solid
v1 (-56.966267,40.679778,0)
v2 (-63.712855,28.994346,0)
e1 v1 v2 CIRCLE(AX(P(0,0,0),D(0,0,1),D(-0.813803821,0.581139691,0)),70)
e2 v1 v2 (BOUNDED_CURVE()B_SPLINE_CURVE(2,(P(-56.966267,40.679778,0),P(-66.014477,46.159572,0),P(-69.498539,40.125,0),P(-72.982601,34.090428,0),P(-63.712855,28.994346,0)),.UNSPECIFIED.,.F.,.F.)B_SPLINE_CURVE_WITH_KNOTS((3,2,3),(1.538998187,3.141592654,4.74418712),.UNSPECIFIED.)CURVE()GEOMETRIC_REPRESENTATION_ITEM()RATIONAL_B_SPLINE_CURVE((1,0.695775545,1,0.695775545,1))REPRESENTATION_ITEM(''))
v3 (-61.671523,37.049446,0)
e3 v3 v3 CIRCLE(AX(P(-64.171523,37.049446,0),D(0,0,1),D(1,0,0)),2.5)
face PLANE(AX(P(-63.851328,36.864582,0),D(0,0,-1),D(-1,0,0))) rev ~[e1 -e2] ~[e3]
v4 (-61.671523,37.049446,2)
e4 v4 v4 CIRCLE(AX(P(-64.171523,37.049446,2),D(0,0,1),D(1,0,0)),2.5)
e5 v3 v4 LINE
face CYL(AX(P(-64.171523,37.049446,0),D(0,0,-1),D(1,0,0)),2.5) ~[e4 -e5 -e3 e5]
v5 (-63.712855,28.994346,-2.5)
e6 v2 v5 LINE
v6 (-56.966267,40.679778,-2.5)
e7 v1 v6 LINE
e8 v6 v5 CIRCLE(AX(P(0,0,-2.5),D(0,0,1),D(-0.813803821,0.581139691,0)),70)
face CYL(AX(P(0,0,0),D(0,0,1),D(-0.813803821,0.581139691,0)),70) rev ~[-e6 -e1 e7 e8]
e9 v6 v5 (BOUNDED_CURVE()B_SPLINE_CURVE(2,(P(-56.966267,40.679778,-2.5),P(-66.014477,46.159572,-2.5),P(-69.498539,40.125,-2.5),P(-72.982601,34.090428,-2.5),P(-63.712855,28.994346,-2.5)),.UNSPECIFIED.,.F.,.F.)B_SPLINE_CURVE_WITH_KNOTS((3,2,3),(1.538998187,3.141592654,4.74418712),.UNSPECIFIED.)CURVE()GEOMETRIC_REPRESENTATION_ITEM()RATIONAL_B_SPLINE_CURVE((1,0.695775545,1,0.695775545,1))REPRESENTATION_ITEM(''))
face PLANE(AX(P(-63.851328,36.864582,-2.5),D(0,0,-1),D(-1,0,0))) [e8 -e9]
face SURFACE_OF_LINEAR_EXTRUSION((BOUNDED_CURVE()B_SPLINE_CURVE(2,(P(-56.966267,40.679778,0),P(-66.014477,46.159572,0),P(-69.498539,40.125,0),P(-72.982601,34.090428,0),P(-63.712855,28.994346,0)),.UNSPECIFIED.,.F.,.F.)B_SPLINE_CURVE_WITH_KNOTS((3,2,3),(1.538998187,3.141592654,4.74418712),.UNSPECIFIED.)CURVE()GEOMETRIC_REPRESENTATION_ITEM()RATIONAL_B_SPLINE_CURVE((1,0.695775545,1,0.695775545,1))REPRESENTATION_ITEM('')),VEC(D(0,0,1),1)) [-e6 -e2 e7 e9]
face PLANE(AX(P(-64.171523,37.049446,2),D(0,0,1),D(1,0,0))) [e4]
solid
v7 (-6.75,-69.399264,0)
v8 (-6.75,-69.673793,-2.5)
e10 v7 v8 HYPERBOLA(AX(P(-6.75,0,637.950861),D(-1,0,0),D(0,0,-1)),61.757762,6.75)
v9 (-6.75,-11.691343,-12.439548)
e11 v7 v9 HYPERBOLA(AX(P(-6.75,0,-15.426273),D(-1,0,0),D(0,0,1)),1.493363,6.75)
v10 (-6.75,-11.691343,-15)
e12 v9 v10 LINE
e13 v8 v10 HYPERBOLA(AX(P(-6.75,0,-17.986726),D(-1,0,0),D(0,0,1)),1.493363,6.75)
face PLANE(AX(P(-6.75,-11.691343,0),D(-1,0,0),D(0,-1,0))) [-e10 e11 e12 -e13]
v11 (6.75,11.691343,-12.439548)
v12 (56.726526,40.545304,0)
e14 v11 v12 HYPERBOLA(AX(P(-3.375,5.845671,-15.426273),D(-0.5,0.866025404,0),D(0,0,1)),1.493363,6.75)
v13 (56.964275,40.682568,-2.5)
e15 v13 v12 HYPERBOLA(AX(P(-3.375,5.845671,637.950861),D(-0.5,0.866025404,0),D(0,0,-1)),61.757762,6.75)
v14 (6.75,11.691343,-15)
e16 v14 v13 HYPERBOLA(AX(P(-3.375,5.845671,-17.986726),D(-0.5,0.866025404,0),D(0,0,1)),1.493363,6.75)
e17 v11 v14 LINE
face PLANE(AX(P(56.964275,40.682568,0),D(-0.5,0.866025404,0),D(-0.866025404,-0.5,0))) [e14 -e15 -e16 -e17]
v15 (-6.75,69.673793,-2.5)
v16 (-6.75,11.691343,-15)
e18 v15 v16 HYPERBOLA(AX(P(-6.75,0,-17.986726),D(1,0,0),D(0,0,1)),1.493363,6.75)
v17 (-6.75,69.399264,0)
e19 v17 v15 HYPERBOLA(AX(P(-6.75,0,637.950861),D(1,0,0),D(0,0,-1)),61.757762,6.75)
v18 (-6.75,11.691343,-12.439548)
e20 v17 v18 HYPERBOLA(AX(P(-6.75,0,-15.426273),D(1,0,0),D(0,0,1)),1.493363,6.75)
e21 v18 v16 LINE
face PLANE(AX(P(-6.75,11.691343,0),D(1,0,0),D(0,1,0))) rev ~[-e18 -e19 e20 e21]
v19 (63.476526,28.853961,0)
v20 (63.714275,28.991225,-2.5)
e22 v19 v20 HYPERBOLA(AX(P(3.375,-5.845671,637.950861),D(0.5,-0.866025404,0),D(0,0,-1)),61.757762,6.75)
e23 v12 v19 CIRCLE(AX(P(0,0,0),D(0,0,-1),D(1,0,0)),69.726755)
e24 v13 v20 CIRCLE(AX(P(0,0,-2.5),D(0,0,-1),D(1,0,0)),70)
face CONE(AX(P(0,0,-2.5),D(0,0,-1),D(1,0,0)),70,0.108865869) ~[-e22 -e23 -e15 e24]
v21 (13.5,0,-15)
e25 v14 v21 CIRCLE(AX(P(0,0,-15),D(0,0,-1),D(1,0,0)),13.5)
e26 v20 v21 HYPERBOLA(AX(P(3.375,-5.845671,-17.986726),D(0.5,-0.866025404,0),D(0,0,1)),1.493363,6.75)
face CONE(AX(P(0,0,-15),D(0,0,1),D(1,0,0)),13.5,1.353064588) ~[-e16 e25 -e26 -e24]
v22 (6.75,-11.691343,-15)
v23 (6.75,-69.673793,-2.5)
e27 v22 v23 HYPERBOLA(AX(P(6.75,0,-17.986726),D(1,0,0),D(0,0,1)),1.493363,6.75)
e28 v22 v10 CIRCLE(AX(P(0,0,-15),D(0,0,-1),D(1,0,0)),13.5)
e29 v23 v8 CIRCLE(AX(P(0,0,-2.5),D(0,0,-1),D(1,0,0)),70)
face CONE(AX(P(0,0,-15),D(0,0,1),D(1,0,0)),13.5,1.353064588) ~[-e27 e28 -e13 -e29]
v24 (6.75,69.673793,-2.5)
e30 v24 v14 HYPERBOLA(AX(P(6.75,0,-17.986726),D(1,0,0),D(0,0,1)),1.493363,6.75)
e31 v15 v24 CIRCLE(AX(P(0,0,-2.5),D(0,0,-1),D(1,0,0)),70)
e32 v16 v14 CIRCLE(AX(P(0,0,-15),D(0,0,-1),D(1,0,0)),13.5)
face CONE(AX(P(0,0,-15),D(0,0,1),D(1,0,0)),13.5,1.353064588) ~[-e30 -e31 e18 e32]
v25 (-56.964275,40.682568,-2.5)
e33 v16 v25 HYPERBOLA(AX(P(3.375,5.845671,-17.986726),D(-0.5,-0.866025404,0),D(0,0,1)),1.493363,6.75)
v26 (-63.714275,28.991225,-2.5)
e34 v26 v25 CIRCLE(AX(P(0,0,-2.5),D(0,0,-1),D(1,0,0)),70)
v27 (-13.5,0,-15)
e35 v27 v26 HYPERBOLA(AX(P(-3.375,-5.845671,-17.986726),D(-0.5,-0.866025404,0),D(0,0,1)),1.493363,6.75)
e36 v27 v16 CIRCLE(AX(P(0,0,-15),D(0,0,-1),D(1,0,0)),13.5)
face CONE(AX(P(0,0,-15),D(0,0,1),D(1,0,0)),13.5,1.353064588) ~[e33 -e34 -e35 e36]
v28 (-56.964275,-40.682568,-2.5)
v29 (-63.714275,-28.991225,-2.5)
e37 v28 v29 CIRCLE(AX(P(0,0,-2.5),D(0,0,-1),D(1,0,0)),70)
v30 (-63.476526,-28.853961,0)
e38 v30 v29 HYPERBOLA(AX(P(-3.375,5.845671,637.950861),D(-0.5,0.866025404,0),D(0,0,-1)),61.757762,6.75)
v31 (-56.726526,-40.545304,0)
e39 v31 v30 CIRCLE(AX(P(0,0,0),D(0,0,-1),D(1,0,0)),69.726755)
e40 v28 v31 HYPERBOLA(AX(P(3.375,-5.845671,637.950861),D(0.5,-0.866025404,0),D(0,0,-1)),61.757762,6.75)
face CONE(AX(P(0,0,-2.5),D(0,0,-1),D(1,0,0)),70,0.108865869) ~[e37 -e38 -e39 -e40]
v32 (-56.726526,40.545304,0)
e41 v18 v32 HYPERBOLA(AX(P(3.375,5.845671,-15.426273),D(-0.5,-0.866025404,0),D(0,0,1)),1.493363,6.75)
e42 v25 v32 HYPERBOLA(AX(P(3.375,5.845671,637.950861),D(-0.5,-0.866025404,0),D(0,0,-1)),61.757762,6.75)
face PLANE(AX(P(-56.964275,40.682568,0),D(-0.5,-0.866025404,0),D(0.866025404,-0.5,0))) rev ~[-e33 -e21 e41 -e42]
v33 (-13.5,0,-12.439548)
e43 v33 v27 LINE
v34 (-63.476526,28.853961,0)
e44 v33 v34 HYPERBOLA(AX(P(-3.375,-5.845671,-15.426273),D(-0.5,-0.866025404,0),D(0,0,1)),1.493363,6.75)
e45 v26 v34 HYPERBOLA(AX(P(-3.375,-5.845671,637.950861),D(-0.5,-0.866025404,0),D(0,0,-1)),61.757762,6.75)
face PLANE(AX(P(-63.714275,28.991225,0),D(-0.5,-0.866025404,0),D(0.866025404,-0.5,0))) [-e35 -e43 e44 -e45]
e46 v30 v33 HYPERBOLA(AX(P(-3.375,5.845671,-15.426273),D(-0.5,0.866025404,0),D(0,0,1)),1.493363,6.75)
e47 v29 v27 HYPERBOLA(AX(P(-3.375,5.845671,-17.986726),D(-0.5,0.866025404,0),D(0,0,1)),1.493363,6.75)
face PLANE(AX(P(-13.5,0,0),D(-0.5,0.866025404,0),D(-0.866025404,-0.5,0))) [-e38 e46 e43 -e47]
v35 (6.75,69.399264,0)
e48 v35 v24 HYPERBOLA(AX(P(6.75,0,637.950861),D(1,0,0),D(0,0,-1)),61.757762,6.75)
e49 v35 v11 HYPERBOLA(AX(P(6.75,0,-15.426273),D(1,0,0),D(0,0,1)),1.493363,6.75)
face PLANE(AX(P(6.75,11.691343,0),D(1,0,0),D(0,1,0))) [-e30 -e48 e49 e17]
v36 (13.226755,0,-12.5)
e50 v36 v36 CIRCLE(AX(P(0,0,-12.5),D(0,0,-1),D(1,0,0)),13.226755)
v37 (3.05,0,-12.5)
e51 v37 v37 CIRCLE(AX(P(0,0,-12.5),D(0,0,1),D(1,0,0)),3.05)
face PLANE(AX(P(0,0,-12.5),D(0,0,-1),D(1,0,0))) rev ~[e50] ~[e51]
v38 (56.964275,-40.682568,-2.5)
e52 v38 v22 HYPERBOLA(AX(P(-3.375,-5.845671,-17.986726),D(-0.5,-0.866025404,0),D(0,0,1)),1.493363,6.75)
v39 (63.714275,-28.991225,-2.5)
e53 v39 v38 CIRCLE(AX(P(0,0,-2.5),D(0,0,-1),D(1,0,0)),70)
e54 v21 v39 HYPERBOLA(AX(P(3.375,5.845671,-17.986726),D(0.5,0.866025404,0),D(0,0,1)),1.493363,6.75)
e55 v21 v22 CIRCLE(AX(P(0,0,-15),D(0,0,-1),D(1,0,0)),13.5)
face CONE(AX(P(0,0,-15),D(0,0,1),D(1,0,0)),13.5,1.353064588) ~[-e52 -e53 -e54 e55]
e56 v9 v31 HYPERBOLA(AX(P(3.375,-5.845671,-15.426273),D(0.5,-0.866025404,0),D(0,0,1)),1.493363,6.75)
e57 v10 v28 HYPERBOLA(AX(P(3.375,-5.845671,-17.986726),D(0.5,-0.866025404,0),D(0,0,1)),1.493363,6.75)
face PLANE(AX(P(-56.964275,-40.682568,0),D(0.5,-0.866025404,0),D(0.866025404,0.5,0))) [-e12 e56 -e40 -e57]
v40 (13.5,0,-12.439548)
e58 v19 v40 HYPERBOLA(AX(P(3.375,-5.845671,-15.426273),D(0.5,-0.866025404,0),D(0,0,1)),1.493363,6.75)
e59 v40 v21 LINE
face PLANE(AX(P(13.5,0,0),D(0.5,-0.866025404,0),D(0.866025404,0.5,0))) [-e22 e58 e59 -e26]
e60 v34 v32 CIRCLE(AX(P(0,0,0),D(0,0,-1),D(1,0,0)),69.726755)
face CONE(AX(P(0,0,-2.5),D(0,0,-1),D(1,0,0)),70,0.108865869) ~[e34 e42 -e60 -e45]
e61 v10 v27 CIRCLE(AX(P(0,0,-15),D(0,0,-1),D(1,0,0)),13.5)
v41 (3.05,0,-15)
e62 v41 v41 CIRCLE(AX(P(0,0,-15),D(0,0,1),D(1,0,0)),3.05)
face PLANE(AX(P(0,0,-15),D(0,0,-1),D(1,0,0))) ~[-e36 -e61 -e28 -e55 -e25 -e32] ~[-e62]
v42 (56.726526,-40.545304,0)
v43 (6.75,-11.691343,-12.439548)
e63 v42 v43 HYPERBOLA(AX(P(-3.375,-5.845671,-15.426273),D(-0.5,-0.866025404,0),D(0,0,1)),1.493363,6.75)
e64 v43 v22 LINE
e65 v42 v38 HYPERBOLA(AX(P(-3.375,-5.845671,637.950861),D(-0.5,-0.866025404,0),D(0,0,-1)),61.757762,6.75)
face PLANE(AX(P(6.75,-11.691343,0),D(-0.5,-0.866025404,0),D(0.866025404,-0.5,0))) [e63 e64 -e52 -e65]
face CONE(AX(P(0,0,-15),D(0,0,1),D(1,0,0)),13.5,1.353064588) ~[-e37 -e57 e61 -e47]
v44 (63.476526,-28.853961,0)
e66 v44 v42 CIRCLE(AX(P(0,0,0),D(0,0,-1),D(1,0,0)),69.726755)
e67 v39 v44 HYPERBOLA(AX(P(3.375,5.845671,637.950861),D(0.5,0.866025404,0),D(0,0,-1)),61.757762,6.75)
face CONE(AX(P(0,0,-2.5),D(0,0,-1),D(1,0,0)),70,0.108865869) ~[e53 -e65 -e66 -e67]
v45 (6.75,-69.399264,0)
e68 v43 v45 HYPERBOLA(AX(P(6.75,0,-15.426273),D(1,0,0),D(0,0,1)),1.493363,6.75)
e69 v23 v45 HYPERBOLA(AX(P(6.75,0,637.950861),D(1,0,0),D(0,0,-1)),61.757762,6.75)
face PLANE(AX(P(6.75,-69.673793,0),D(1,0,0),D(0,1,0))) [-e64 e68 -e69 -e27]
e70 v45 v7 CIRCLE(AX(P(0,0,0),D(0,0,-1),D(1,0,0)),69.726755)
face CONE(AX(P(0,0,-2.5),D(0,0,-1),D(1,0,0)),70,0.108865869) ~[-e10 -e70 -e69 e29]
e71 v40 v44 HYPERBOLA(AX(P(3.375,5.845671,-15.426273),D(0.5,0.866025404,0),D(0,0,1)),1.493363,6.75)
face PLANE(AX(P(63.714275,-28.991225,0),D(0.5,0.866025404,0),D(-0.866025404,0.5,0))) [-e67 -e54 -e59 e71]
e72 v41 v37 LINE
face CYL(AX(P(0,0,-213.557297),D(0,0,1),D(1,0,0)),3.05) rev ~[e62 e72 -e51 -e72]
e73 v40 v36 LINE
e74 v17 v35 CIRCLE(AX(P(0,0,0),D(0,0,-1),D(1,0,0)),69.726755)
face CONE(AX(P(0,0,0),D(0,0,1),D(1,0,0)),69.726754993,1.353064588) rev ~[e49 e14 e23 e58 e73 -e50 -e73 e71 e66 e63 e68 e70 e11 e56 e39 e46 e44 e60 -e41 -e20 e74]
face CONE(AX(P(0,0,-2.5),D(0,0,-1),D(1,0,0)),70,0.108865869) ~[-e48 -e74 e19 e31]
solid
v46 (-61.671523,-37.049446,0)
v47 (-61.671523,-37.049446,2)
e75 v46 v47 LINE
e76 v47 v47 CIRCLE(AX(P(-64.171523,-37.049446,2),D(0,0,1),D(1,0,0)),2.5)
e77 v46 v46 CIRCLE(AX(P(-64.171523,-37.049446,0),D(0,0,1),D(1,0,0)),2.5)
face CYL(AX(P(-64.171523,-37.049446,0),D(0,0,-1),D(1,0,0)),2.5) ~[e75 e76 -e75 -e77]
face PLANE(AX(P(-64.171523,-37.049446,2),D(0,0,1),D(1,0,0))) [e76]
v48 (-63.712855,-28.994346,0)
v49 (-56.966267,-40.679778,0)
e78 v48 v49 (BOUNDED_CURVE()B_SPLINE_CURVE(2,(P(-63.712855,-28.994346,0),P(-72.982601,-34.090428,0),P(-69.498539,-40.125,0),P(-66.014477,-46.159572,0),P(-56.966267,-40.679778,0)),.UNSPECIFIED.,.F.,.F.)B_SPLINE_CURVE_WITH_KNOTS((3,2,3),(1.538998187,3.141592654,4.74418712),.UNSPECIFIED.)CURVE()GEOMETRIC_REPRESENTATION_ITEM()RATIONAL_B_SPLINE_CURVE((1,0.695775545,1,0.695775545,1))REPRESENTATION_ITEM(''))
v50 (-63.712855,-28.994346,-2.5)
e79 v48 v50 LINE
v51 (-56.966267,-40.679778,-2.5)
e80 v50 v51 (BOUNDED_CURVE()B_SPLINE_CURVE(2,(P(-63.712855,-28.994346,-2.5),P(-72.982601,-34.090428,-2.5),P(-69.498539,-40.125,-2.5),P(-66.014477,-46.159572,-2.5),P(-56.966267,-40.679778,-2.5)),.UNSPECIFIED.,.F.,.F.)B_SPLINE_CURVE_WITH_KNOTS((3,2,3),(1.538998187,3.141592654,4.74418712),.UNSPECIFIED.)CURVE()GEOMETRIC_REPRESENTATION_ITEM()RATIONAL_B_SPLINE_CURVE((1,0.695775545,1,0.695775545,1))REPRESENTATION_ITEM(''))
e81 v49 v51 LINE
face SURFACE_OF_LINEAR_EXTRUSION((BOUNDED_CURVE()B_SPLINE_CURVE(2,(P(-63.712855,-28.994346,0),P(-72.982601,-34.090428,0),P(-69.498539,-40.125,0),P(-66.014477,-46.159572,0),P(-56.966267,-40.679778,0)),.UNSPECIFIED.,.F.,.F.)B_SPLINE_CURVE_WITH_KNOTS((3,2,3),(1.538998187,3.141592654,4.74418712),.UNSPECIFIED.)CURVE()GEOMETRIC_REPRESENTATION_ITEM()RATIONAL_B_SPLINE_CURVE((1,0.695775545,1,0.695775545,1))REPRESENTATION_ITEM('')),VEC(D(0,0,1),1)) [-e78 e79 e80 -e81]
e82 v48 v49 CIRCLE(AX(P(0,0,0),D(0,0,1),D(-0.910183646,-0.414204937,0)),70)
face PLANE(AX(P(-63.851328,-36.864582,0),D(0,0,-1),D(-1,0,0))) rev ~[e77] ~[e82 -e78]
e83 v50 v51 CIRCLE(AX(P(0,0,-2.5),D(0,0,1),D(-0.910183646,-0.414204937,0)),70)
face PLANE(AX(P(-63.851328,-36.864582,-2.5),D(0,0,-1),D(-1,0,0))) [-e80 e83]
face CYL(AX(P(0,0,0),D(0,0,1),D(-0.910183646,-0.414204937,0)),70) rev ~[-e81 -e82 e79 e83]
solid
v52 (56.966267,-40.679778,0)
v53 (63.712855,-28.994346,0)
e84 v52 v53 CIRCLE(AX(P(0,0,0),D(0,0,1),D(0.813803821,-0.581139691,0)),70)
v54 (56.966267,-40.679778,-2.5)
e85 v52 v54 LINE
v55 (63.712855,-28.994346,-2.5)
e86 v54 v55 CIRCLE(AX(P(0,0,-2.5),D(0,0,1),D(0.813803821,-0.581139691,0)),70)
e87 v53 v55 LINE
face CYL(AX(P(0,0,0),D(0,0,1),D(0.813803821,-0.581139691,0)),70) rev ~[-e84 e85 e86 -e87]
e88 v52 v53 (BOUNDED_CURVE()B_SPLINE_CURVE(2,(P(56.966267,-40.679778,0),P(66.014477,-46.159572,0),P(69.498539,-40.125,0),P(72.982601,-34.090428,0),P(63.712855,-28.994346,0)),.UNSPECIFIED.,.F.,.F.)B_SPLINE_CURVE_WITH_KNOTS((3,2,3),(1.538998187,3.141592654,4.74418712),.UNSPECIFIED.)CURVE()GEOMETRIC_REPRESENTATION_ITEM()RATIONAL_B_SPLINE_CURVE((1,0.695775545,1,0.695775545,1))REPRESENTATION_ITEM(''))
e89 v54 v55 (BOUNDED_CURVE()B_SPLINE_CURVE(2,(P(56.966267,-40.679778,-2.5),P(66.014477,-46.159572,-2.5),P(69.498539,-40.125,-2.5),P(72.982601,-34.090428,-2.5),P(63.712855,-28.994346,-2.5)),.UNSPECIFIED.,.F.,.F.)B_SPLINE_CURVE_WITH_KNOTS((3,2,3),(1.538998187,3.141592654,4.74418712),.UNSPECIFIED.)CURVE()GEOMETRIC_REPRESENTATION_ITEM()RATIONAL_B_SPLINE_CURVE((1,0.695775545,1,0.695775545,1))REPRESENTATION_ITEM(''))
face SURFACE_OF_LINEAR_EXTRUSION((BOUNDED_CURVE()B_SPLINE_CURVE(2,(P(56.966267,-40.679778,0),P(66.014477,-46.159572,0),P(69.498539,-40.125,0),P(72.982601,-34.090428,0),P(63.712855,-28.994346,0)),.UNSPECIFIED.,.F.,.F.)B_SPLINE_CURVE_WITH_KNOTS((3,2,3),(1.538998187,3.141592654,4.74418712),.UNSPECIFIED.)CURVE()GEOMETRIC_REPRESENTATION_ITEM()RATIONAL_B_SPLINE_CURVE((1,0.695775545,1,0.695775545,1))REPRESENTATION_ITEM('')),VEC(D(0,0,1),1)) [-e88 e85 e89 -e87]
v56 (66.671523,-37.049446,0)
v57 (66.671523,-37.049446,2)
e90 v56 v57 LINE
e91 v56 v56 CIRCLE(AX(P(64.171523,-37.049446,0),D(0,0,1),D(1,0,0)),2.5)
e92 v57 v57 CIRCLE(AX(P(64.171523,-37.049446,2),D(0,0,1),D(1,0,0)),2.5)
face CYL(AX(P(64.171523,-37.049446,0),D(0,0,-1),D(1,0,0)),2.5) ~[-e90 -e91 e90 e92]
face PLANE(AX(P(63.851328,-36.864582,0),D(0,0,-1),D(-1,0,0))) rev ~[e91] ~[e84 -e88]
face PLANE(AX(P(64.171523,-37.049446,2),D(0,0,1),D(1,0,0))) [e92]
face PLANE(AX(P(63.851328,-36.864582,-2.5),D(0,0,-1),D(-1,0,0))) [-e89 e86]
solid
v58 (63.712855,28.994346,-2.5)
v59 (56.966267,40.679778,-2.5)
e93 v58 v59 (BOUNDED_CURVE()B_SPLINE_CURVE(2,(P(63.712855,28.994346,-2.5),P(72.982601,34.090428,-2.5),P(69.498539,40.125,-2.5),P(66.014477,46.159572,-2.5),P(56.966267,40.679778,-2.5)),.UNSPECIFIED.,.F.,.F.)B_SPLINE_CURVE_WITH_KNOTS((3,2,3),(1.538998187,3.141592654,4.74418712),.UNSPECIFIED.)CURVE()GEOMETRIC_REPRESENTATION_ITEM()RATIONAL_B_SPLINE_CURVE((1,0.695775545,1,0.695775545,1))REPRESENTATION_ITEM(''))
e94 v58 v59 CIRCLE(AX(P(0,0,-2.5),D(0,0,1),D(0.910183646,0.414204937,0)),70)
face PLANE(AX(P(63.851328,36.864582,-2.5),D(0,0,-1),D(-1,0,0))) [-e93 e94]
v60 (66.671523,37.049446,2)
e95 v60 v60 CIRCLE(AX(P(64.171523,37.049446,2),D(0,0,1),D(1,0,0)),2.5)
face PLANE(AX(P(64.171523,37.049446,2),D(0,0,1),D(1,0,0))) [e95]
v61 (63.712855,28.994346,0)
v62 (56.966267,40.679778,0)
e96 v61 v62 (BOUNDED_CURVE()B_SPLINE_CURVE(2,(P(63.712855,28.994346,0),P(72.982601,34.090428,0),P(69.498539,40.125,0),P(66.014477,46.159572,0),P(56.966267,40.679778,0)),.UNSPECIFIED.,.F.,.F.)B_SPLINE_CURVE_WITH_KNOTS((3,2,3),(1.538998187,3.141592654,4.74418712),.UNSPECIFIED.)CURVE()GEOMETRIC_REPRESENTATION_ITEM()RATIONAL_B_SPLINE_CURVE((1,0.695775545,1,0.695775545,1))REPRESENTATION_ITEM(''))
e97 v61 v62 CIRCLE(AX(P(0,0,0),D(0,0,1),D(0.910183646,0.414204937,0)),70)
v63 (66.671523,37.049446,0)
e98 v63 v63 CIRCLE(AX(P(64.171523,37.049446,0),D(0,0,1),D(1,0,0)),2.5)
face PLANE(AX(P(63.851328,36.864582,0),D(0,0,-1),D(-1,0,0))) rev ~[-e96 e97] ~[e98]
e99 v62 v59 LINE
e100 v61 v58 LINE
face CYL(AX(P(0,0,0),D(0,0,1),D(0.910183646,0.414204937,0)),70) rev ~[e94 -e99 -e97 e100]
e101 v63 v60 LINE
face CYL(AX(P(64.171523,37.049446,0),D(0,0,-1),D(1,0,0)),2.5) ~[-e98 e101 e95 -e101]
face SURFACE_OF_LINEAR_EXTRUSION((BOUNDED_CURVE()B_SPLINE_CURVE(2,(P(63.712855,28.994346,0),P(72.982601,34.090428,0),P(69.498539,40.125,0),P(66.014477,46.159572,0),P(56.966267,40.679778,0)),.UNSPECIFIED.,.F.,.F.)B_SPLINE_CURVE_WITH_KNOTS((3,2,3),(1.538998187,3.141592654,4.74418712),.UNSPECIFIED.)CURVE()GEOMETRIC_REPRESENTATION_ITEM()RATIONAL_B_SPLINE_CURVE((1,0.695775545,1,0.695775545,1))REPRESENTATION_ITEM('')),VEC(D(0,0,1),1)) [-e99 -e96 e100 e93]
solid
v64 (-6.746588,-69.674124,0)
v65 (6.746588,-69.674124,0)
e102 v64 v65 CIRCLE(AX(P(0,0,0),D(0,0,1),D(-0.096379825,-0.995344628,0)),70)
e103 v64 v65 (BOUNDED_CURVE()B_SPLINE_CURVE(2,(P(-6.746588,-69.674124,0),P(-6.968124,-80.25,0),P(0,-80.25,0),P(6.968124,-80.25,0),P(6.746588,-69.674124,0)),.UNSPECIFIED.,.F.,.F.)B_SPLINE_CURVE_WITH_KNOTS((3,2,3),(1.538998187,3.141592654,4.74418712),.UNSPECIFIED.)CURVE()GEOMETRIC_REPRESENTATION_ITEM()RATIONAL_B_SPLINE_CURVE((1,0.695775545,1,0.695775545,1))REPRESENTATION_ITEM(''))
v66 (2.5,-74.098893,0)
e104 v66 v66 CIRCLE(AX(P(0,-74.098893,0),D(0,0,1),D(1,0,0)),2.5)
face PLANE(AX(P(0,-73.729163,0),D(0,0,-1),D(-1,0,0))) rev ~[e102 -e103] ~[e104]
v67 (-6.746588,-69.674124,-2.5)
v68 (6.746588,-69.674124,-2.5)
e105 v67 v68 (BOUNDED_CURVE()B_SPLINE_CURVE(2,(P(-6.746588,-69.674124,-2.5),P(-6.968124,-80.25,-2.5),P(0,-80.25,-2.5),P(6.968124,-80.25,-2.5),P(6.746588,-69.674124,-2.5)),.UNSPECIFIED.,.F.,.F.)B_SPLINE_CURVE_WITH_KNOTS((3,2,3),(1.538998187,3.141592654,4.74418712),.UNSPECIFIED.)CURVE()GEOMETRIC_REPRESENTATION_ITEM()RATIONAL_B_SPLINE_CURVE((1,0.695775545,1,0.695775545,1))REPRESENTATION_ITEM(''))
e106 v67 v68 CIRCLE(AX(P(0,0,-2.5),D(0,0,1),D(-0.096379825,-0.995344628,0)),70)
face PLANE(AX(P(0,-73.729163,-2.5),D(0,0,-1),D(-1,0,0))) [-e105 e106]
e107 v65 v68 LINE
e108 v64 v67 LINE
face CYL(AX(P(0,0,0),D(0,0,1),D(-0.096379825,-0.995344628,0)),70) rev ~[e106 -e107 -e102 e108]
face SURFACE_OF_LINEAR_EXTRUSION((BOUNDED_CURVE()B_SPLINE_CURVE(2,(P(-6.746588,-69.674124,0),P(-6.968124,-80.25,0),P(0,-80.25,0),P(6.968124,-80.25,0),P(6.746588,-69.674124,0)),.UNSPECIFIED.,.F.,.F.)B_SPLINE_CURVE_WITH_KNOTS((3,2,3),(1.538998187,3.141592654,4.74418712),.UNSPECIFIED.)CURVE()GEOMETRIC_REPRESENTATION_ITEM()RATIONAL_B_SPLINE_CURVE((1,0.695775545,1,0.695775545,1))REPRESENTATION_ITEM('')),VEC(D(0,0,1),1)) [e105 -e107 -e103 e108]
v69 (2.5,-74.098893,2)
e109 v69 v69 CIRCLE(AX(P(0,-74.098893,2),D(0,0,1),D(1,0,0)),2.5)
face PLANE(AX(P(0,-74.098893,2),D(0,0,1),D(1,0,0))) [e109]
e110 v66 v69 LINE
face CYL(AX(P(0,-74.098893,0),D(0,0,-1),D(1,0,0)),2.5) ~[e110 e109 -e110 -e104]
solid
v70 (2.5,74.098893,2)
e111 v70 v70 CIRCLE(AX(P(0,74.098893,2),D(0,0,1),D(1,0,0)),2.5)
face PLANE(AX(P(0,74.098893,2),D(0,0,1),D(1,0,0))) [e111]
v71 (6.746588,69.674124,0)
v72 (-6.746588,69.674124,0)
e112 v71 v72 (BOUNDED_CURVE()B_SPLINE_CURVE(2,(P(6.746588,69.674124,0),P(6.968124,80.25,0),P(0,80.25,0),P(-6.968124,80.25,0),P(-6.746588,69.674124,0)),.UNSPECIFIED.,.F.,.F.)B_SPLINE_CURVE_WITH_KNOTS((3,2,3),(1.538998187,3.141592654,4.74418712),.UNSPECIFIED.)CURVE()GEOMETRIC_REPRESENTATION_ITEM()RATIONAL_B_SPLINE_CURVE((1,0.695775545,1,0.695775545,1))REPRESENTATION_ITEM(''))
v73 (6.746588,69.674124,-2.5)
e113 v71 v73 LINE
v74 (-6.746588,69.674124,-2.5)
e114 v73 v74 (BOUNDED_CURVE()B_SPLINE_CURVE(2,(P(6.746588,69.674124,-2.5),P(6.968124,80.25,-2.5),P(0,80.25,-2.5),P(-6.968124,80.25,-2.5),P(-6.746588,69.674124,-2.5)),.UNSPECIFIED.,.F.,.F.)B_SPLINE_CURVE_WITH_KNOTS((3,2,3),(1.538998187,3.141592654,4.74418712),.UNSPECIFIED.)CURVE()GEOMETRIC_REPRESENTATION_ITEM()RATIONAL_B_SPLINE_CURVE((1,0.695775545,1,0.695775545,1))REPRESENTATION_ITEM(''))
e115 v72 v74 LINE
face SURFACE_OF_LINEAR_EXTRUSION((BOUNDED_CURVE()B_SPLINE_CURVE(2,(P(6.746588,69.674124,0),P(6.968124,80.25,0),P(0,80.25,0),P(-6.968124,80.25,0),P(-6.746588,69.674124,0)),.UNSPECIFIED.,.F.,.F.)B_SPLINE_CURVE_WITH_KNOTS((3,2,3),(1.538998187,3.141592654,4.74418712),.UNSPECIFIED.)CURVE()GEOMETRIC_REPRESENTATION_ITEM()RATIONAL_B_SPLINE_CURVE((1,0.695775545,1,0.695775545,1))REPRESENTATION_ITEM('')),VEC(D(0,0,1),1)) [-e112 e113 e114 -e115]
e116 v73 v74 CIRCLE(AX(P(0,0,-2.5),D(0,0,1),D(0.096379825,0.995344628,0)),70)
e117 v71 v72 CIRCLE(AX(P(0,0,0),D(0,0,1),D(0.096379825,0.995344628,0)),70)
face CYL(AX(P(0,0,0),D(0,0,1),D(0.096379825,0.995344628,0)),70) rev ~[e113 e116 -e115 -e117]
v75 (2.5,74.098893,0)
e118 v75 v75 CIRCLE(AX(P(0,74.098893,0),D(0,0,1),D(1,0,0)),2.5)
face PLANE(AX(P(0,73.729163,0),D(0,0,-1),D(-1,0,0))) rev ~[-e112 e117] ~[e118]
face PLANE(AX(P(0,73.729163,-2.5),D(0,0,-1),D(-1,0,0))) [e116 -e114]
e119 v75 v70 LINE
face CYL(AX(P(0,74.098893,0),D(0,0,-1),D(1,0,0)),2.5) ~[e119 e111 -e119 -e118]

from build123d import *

# Parameters (mm, degrees)
F_6_1_6_1_DIAMETER_HOLE1_D = 6.1
CUT_EXTRUDE6_DEPTH         = 16
BOSS_EXTRUDE1_DEPTH        = 2.5
BOSS_EXTRUDE1_2_DEPTH      = 2.5
BOSS_EXTRUDE1_3_DEPTH      = 2.5
BOSS_EXTRUDE1_4_DEPTH      = 2.5
BOSS_EXTRUDE1_5_DEPTH      = 2.5
BOSS_EXTRUDE1_6_DEPTH      = 2.5
SKETCH8_R                  = 2.5
BOSS_EXTRUDE2_DEPTH        = 2


with BuildPart() as part:
    # Sketch1 → Revolve1 (revolve)
    with BuildSketch(Plane(origin=(0, 0, 0), x_dir=(1, 0, 0), z_dir=(0, 1, 0))):
        Polygon((0, 15), (13.5, 15), (70, 2.5), (69.726754993, 0), (13.226754993, 12.5), (0, 12.5), align=None)
    revolve(axis=Axis((0, 0, -12.5), (0, 0, -1)))

    # Ø6.1 (6.1) Diameter Hole1 (through all)
    with Locations(Plane(origin=(0, 0, -15), x_dir=(-1, 0, 0), z_dir=(0, 0, -1))):
        with Locations((0, 0)):
            Hole(F_6_1_6_1_DIAMETER_HOLE1_D / 2)

    # Sketch6 → Cut-Extrude6 (cut, through all)
    with BuildSketch(Plane.XY):
        with BuildLine():
            Line((6.75, 11.691342951), (6.75, 69.673793495))
            ThreePointArc((6.75, 69.673793495), (35, 60.621778265), (56.964275145, 40.682568223))
            Line((56.964275145, 40.682568223), (6.75, 11.691342951))
        make_face()
        with BuildLine():
            Line((13.5, 0), (63.714275145, 28.991225272))
            ThreePointArc((63.714275145, 28.991225272), (69.046745107, 11.512905374), (69.673793495, -6.75))
            ThreePointArc((69.673793495, -6.75), (67.61480784, -18.117333157), (63.714275145, -28.991225272))
            Line((63.714275145, -28.991225272), (13.5, 0))
        make_face()
        with BuildLine():
            Line((-6.75, 11.691342951), (-6.75, 69.673793495))
            ThreePointArc((-6.75, 69.673793495), (-35, 60.621778265), (-56.964275145, 40.682568223))
            Line((-56.964275145, 40.682568223), (-6.75, 11.691342951))
        make_face()
        with BuildLine():
            Line((6.75, -11.691342951), (56.964275145, -40.682568223))
            ThreePointArc((56.964275145, -40.682568223), (35, -60.621778265), (6.75, -69.673793495))
            Line((6.75, -69.673793495), (6.75, -11.691342951))
        make_face()
        with BuildLine():
            Line((-6.75, -11.691342951), (-6.75, -69.673793495))
            ThreePointArc((-6.75, -69.673793495), (-35, -60.621778265), (-56.964275145, -40.682568223))
            Line((-56.964275145, -40.682568223), (-6.75, -11.691342951))
        make_face()
        with BuildLine():
            Line((-13.5, 0), (-63.714275145, -28.991225272))
            ThreePointArc((-63.714275145, -28.991225272), (-67.61480784, -18.117333157), (-69.673793495, -6.75))
            ThreePointArc((-69.673793495, -6.75), (-69.046745107, 11.512905374), (-63.714275145, 28.991225272))
            Line((-63.714275145, 28.991225272), (-13.5, 0))
        make_face()
    extrude(amount=-CUT_EXTRUDE6_DEPTH, mode=Mode.SUBTRACT)


with BuildPart() as body_2:
    # Sketch7 → Boss-Extrude1 (new body)
    with BuildSketch(Plane.XY):
        with BuildLine():
            ThreePointArc((6.746587752, 69.67412399), (0, 70), (-6.746587752, 69.67412399))
            add(Edge.make_bspline(
                [(6.746587752, 69.67412399), (6.968123789, 80.25), (0, 80.25), (-6.968123789, 80.25), (-6.746587752, 69.67412399)],
                knots=[1.538998187, 1.538998187, 1.538998187, 3.141592654, 3.141592654, 4.74418712, 4.74418712, 4.74418712], degree=2, weights=[1, 0.695775545, 1, 0.695775545, 1]))
        make_face()
    extrude(amount=-BOSS_EXTRUDE1_DEPTH)



with BuildPart() as body_3:
    # Sketch7 → Boss-Extrude1 2 (new body)
    with BuildSketch(Plane.XY):
        with BuildLine():
            ThreePointArc((63.712855237, 28.994345613), (60.621778265, 35), (56.966267485, 40.679778377))
            add(Edge.make_bspline(
                [(63.712855237, 28.994345613), (72.982600548, 34.090427782), (69.498538654, 40.125), (66.014476759, 46.159572218), (56.966267485, 40.679778377)],
                knots=[1.538998187, 1.538998187, 1.538998187, 3.141592654, 3.141592654, 4.74418712, 4.74418712, 4.74418712], degree=2, weights=[1, 0.695775545, 1, 0.695775545, 1]))
        make_face()
    extrude(amount=-BOSS_EXTRUDE1_2_DEPTH)


with BuildPart() as body_4:
    # Sketch7 → Boss-Extrude1 3 (new body)
    with BuildSketch(Plane.XY):
        with BuildLine():
            ThreePointArc((56.966267485, -40.679778377), (60.621778265, -35), (63.712855237, -28.994345613))
            add(Edge.make_bspline(
                [(56.966267485, -40.679778377), (66.014476759, -46.159572218), (69.498538654, -40.125), (72.982600548, -34.090427782), (63.712855237, -28.994345613)],
                knots=[1.538998187, 1.538998187, 1.538998187, 3.141592654, 3.141592654, 4.74418712, 4.74418712, 4.74418712], degree=2, weights=[1, 0.695775545, 1, 0.695775545, 1]))
        make_face()
    extrude(amount=-BOSS_EXTRUDE1_3_DEPTH)


with BuildPart() as body_5:
    # Sketch7 → Boss-Extrude1 4 (new body)
    with BuildSketch(Plane.XY):
        with BuildLine():
            ThreePointArc((-6.746587752, -69.67412399), (0, -70), (6.746587752, -69.67412399))
            add(Edge.make_bspline(
                [(-6.746587752, -69.67412399), (-6.968123789, -80.25), (0, -80.25), (6.968123789, -80.25), (6.746587752, -69.67412399)],
                knots=[1.538998187, 1.538998187, 1.538998187, 3.141592654, 3.141592654, 4.74418712, 4.74418712, 4.74418712], degree=2, weights=[1, 0.695775545, 1, 0.695775545, 1]))
        make_face()
    extrude(amount=-BOSS_EXTRUDE1_4_DEPTH)


with BuildPart() as body_6:
    # Sketch7 → Boss-Extrude1 5 (new body)
    with BuildSketch(Plane.XY):
        with BuildLine():
            ThreePointArc((-63.712855237, -28.994345613), (-60.621778265, -35), (-56.966267485, -40.679778377))
            add(Edge.make_bspline(
                [(-63.712855237, -28.994345613), (-72.982600548, -34.090427782), (-69.498538654, -40.125), (-66.014476759, -46.159572218), (-56.966267485, -40.679778377)],
                knots=[1.538998187, 1.538998187, 1.538998187, 3.141592654, 3.141592654, 4.74418712, 4.74418712, 4.74418712], degree=2, weights=[1, 0.695775545, 1, 0.695775545, 1]))
        make_face()
    extrude(amount=-BOSS_EXTRUDE1_5_DEPTH)


with BuildPart() as body_7:
    # Sketch7 → Boss-Extrude1 6 (new body)
    with BuildSketch(Plane.XY):
        with BuildLine():
            ThreePointArc((-56.966267485, 40.679778377), (-60.621778265, 35), (-63.712855237, 28.994345613))
            add(Edge.make_bspline(
                [(-56.966267485, 40.679778377), (-66.014476759, 46.159572218), (-69.498538654, 40.125), (-72.982600548, 34.090427782), (-63.712855237, 28.994345613)],
                knots=[1.538998187, 1.538998187, 1.538998187, 3.141592654, 3.141592654, 4.74418712, 4.74418712, 4.74418712], degree=2, weights=[1, 0.695775545, 1, 0.695775545, 1]))
        make_face()
    extrude(amount=-BOSS_EXTRUDE1_6_DEPTH)


with BuildPart() as body_2_1:
    add(body_2.part)

    add(body_3.part)  # Boss-Extrude2 merges body 3

    add(body_4.part)  # Boss-Extrude2 merges body 4

    add(body_5.part)  # Boss-Extrude2 merges body 5

    add(body_6.part)  # Boss-Extrude2 merges body 6

    add(body_7.part)  # Boss-Extrude2 merges body 7
    # Sketch8 → Boss-Extrude2 (add)
    with BuildSketch(Plane.XY):
        with Locations((0, 74.0988925)):
            Circle(SKETCH8_R)
        with Locations((64.171523297, 37.04944625)):
            Circle(SKETCH8_R)
        with Locations((64.171523297, -37.04944625)):
            Circle(SKETCH8_R)
        with Locations((0, -74.0988925)):
            Circle(SKETCH8_R)
        with Locations((-64.171523297, -37.04944625)):
            Circle(SKETCH8_R)
        with Locations((-64.171523297, 37.04944625)):
            Circle(SKETCH8_R)
    extrude(amount=BOSS_EXTRUDE2_DEPTH)


solid = Compound([part.part, body_2_1.part])
